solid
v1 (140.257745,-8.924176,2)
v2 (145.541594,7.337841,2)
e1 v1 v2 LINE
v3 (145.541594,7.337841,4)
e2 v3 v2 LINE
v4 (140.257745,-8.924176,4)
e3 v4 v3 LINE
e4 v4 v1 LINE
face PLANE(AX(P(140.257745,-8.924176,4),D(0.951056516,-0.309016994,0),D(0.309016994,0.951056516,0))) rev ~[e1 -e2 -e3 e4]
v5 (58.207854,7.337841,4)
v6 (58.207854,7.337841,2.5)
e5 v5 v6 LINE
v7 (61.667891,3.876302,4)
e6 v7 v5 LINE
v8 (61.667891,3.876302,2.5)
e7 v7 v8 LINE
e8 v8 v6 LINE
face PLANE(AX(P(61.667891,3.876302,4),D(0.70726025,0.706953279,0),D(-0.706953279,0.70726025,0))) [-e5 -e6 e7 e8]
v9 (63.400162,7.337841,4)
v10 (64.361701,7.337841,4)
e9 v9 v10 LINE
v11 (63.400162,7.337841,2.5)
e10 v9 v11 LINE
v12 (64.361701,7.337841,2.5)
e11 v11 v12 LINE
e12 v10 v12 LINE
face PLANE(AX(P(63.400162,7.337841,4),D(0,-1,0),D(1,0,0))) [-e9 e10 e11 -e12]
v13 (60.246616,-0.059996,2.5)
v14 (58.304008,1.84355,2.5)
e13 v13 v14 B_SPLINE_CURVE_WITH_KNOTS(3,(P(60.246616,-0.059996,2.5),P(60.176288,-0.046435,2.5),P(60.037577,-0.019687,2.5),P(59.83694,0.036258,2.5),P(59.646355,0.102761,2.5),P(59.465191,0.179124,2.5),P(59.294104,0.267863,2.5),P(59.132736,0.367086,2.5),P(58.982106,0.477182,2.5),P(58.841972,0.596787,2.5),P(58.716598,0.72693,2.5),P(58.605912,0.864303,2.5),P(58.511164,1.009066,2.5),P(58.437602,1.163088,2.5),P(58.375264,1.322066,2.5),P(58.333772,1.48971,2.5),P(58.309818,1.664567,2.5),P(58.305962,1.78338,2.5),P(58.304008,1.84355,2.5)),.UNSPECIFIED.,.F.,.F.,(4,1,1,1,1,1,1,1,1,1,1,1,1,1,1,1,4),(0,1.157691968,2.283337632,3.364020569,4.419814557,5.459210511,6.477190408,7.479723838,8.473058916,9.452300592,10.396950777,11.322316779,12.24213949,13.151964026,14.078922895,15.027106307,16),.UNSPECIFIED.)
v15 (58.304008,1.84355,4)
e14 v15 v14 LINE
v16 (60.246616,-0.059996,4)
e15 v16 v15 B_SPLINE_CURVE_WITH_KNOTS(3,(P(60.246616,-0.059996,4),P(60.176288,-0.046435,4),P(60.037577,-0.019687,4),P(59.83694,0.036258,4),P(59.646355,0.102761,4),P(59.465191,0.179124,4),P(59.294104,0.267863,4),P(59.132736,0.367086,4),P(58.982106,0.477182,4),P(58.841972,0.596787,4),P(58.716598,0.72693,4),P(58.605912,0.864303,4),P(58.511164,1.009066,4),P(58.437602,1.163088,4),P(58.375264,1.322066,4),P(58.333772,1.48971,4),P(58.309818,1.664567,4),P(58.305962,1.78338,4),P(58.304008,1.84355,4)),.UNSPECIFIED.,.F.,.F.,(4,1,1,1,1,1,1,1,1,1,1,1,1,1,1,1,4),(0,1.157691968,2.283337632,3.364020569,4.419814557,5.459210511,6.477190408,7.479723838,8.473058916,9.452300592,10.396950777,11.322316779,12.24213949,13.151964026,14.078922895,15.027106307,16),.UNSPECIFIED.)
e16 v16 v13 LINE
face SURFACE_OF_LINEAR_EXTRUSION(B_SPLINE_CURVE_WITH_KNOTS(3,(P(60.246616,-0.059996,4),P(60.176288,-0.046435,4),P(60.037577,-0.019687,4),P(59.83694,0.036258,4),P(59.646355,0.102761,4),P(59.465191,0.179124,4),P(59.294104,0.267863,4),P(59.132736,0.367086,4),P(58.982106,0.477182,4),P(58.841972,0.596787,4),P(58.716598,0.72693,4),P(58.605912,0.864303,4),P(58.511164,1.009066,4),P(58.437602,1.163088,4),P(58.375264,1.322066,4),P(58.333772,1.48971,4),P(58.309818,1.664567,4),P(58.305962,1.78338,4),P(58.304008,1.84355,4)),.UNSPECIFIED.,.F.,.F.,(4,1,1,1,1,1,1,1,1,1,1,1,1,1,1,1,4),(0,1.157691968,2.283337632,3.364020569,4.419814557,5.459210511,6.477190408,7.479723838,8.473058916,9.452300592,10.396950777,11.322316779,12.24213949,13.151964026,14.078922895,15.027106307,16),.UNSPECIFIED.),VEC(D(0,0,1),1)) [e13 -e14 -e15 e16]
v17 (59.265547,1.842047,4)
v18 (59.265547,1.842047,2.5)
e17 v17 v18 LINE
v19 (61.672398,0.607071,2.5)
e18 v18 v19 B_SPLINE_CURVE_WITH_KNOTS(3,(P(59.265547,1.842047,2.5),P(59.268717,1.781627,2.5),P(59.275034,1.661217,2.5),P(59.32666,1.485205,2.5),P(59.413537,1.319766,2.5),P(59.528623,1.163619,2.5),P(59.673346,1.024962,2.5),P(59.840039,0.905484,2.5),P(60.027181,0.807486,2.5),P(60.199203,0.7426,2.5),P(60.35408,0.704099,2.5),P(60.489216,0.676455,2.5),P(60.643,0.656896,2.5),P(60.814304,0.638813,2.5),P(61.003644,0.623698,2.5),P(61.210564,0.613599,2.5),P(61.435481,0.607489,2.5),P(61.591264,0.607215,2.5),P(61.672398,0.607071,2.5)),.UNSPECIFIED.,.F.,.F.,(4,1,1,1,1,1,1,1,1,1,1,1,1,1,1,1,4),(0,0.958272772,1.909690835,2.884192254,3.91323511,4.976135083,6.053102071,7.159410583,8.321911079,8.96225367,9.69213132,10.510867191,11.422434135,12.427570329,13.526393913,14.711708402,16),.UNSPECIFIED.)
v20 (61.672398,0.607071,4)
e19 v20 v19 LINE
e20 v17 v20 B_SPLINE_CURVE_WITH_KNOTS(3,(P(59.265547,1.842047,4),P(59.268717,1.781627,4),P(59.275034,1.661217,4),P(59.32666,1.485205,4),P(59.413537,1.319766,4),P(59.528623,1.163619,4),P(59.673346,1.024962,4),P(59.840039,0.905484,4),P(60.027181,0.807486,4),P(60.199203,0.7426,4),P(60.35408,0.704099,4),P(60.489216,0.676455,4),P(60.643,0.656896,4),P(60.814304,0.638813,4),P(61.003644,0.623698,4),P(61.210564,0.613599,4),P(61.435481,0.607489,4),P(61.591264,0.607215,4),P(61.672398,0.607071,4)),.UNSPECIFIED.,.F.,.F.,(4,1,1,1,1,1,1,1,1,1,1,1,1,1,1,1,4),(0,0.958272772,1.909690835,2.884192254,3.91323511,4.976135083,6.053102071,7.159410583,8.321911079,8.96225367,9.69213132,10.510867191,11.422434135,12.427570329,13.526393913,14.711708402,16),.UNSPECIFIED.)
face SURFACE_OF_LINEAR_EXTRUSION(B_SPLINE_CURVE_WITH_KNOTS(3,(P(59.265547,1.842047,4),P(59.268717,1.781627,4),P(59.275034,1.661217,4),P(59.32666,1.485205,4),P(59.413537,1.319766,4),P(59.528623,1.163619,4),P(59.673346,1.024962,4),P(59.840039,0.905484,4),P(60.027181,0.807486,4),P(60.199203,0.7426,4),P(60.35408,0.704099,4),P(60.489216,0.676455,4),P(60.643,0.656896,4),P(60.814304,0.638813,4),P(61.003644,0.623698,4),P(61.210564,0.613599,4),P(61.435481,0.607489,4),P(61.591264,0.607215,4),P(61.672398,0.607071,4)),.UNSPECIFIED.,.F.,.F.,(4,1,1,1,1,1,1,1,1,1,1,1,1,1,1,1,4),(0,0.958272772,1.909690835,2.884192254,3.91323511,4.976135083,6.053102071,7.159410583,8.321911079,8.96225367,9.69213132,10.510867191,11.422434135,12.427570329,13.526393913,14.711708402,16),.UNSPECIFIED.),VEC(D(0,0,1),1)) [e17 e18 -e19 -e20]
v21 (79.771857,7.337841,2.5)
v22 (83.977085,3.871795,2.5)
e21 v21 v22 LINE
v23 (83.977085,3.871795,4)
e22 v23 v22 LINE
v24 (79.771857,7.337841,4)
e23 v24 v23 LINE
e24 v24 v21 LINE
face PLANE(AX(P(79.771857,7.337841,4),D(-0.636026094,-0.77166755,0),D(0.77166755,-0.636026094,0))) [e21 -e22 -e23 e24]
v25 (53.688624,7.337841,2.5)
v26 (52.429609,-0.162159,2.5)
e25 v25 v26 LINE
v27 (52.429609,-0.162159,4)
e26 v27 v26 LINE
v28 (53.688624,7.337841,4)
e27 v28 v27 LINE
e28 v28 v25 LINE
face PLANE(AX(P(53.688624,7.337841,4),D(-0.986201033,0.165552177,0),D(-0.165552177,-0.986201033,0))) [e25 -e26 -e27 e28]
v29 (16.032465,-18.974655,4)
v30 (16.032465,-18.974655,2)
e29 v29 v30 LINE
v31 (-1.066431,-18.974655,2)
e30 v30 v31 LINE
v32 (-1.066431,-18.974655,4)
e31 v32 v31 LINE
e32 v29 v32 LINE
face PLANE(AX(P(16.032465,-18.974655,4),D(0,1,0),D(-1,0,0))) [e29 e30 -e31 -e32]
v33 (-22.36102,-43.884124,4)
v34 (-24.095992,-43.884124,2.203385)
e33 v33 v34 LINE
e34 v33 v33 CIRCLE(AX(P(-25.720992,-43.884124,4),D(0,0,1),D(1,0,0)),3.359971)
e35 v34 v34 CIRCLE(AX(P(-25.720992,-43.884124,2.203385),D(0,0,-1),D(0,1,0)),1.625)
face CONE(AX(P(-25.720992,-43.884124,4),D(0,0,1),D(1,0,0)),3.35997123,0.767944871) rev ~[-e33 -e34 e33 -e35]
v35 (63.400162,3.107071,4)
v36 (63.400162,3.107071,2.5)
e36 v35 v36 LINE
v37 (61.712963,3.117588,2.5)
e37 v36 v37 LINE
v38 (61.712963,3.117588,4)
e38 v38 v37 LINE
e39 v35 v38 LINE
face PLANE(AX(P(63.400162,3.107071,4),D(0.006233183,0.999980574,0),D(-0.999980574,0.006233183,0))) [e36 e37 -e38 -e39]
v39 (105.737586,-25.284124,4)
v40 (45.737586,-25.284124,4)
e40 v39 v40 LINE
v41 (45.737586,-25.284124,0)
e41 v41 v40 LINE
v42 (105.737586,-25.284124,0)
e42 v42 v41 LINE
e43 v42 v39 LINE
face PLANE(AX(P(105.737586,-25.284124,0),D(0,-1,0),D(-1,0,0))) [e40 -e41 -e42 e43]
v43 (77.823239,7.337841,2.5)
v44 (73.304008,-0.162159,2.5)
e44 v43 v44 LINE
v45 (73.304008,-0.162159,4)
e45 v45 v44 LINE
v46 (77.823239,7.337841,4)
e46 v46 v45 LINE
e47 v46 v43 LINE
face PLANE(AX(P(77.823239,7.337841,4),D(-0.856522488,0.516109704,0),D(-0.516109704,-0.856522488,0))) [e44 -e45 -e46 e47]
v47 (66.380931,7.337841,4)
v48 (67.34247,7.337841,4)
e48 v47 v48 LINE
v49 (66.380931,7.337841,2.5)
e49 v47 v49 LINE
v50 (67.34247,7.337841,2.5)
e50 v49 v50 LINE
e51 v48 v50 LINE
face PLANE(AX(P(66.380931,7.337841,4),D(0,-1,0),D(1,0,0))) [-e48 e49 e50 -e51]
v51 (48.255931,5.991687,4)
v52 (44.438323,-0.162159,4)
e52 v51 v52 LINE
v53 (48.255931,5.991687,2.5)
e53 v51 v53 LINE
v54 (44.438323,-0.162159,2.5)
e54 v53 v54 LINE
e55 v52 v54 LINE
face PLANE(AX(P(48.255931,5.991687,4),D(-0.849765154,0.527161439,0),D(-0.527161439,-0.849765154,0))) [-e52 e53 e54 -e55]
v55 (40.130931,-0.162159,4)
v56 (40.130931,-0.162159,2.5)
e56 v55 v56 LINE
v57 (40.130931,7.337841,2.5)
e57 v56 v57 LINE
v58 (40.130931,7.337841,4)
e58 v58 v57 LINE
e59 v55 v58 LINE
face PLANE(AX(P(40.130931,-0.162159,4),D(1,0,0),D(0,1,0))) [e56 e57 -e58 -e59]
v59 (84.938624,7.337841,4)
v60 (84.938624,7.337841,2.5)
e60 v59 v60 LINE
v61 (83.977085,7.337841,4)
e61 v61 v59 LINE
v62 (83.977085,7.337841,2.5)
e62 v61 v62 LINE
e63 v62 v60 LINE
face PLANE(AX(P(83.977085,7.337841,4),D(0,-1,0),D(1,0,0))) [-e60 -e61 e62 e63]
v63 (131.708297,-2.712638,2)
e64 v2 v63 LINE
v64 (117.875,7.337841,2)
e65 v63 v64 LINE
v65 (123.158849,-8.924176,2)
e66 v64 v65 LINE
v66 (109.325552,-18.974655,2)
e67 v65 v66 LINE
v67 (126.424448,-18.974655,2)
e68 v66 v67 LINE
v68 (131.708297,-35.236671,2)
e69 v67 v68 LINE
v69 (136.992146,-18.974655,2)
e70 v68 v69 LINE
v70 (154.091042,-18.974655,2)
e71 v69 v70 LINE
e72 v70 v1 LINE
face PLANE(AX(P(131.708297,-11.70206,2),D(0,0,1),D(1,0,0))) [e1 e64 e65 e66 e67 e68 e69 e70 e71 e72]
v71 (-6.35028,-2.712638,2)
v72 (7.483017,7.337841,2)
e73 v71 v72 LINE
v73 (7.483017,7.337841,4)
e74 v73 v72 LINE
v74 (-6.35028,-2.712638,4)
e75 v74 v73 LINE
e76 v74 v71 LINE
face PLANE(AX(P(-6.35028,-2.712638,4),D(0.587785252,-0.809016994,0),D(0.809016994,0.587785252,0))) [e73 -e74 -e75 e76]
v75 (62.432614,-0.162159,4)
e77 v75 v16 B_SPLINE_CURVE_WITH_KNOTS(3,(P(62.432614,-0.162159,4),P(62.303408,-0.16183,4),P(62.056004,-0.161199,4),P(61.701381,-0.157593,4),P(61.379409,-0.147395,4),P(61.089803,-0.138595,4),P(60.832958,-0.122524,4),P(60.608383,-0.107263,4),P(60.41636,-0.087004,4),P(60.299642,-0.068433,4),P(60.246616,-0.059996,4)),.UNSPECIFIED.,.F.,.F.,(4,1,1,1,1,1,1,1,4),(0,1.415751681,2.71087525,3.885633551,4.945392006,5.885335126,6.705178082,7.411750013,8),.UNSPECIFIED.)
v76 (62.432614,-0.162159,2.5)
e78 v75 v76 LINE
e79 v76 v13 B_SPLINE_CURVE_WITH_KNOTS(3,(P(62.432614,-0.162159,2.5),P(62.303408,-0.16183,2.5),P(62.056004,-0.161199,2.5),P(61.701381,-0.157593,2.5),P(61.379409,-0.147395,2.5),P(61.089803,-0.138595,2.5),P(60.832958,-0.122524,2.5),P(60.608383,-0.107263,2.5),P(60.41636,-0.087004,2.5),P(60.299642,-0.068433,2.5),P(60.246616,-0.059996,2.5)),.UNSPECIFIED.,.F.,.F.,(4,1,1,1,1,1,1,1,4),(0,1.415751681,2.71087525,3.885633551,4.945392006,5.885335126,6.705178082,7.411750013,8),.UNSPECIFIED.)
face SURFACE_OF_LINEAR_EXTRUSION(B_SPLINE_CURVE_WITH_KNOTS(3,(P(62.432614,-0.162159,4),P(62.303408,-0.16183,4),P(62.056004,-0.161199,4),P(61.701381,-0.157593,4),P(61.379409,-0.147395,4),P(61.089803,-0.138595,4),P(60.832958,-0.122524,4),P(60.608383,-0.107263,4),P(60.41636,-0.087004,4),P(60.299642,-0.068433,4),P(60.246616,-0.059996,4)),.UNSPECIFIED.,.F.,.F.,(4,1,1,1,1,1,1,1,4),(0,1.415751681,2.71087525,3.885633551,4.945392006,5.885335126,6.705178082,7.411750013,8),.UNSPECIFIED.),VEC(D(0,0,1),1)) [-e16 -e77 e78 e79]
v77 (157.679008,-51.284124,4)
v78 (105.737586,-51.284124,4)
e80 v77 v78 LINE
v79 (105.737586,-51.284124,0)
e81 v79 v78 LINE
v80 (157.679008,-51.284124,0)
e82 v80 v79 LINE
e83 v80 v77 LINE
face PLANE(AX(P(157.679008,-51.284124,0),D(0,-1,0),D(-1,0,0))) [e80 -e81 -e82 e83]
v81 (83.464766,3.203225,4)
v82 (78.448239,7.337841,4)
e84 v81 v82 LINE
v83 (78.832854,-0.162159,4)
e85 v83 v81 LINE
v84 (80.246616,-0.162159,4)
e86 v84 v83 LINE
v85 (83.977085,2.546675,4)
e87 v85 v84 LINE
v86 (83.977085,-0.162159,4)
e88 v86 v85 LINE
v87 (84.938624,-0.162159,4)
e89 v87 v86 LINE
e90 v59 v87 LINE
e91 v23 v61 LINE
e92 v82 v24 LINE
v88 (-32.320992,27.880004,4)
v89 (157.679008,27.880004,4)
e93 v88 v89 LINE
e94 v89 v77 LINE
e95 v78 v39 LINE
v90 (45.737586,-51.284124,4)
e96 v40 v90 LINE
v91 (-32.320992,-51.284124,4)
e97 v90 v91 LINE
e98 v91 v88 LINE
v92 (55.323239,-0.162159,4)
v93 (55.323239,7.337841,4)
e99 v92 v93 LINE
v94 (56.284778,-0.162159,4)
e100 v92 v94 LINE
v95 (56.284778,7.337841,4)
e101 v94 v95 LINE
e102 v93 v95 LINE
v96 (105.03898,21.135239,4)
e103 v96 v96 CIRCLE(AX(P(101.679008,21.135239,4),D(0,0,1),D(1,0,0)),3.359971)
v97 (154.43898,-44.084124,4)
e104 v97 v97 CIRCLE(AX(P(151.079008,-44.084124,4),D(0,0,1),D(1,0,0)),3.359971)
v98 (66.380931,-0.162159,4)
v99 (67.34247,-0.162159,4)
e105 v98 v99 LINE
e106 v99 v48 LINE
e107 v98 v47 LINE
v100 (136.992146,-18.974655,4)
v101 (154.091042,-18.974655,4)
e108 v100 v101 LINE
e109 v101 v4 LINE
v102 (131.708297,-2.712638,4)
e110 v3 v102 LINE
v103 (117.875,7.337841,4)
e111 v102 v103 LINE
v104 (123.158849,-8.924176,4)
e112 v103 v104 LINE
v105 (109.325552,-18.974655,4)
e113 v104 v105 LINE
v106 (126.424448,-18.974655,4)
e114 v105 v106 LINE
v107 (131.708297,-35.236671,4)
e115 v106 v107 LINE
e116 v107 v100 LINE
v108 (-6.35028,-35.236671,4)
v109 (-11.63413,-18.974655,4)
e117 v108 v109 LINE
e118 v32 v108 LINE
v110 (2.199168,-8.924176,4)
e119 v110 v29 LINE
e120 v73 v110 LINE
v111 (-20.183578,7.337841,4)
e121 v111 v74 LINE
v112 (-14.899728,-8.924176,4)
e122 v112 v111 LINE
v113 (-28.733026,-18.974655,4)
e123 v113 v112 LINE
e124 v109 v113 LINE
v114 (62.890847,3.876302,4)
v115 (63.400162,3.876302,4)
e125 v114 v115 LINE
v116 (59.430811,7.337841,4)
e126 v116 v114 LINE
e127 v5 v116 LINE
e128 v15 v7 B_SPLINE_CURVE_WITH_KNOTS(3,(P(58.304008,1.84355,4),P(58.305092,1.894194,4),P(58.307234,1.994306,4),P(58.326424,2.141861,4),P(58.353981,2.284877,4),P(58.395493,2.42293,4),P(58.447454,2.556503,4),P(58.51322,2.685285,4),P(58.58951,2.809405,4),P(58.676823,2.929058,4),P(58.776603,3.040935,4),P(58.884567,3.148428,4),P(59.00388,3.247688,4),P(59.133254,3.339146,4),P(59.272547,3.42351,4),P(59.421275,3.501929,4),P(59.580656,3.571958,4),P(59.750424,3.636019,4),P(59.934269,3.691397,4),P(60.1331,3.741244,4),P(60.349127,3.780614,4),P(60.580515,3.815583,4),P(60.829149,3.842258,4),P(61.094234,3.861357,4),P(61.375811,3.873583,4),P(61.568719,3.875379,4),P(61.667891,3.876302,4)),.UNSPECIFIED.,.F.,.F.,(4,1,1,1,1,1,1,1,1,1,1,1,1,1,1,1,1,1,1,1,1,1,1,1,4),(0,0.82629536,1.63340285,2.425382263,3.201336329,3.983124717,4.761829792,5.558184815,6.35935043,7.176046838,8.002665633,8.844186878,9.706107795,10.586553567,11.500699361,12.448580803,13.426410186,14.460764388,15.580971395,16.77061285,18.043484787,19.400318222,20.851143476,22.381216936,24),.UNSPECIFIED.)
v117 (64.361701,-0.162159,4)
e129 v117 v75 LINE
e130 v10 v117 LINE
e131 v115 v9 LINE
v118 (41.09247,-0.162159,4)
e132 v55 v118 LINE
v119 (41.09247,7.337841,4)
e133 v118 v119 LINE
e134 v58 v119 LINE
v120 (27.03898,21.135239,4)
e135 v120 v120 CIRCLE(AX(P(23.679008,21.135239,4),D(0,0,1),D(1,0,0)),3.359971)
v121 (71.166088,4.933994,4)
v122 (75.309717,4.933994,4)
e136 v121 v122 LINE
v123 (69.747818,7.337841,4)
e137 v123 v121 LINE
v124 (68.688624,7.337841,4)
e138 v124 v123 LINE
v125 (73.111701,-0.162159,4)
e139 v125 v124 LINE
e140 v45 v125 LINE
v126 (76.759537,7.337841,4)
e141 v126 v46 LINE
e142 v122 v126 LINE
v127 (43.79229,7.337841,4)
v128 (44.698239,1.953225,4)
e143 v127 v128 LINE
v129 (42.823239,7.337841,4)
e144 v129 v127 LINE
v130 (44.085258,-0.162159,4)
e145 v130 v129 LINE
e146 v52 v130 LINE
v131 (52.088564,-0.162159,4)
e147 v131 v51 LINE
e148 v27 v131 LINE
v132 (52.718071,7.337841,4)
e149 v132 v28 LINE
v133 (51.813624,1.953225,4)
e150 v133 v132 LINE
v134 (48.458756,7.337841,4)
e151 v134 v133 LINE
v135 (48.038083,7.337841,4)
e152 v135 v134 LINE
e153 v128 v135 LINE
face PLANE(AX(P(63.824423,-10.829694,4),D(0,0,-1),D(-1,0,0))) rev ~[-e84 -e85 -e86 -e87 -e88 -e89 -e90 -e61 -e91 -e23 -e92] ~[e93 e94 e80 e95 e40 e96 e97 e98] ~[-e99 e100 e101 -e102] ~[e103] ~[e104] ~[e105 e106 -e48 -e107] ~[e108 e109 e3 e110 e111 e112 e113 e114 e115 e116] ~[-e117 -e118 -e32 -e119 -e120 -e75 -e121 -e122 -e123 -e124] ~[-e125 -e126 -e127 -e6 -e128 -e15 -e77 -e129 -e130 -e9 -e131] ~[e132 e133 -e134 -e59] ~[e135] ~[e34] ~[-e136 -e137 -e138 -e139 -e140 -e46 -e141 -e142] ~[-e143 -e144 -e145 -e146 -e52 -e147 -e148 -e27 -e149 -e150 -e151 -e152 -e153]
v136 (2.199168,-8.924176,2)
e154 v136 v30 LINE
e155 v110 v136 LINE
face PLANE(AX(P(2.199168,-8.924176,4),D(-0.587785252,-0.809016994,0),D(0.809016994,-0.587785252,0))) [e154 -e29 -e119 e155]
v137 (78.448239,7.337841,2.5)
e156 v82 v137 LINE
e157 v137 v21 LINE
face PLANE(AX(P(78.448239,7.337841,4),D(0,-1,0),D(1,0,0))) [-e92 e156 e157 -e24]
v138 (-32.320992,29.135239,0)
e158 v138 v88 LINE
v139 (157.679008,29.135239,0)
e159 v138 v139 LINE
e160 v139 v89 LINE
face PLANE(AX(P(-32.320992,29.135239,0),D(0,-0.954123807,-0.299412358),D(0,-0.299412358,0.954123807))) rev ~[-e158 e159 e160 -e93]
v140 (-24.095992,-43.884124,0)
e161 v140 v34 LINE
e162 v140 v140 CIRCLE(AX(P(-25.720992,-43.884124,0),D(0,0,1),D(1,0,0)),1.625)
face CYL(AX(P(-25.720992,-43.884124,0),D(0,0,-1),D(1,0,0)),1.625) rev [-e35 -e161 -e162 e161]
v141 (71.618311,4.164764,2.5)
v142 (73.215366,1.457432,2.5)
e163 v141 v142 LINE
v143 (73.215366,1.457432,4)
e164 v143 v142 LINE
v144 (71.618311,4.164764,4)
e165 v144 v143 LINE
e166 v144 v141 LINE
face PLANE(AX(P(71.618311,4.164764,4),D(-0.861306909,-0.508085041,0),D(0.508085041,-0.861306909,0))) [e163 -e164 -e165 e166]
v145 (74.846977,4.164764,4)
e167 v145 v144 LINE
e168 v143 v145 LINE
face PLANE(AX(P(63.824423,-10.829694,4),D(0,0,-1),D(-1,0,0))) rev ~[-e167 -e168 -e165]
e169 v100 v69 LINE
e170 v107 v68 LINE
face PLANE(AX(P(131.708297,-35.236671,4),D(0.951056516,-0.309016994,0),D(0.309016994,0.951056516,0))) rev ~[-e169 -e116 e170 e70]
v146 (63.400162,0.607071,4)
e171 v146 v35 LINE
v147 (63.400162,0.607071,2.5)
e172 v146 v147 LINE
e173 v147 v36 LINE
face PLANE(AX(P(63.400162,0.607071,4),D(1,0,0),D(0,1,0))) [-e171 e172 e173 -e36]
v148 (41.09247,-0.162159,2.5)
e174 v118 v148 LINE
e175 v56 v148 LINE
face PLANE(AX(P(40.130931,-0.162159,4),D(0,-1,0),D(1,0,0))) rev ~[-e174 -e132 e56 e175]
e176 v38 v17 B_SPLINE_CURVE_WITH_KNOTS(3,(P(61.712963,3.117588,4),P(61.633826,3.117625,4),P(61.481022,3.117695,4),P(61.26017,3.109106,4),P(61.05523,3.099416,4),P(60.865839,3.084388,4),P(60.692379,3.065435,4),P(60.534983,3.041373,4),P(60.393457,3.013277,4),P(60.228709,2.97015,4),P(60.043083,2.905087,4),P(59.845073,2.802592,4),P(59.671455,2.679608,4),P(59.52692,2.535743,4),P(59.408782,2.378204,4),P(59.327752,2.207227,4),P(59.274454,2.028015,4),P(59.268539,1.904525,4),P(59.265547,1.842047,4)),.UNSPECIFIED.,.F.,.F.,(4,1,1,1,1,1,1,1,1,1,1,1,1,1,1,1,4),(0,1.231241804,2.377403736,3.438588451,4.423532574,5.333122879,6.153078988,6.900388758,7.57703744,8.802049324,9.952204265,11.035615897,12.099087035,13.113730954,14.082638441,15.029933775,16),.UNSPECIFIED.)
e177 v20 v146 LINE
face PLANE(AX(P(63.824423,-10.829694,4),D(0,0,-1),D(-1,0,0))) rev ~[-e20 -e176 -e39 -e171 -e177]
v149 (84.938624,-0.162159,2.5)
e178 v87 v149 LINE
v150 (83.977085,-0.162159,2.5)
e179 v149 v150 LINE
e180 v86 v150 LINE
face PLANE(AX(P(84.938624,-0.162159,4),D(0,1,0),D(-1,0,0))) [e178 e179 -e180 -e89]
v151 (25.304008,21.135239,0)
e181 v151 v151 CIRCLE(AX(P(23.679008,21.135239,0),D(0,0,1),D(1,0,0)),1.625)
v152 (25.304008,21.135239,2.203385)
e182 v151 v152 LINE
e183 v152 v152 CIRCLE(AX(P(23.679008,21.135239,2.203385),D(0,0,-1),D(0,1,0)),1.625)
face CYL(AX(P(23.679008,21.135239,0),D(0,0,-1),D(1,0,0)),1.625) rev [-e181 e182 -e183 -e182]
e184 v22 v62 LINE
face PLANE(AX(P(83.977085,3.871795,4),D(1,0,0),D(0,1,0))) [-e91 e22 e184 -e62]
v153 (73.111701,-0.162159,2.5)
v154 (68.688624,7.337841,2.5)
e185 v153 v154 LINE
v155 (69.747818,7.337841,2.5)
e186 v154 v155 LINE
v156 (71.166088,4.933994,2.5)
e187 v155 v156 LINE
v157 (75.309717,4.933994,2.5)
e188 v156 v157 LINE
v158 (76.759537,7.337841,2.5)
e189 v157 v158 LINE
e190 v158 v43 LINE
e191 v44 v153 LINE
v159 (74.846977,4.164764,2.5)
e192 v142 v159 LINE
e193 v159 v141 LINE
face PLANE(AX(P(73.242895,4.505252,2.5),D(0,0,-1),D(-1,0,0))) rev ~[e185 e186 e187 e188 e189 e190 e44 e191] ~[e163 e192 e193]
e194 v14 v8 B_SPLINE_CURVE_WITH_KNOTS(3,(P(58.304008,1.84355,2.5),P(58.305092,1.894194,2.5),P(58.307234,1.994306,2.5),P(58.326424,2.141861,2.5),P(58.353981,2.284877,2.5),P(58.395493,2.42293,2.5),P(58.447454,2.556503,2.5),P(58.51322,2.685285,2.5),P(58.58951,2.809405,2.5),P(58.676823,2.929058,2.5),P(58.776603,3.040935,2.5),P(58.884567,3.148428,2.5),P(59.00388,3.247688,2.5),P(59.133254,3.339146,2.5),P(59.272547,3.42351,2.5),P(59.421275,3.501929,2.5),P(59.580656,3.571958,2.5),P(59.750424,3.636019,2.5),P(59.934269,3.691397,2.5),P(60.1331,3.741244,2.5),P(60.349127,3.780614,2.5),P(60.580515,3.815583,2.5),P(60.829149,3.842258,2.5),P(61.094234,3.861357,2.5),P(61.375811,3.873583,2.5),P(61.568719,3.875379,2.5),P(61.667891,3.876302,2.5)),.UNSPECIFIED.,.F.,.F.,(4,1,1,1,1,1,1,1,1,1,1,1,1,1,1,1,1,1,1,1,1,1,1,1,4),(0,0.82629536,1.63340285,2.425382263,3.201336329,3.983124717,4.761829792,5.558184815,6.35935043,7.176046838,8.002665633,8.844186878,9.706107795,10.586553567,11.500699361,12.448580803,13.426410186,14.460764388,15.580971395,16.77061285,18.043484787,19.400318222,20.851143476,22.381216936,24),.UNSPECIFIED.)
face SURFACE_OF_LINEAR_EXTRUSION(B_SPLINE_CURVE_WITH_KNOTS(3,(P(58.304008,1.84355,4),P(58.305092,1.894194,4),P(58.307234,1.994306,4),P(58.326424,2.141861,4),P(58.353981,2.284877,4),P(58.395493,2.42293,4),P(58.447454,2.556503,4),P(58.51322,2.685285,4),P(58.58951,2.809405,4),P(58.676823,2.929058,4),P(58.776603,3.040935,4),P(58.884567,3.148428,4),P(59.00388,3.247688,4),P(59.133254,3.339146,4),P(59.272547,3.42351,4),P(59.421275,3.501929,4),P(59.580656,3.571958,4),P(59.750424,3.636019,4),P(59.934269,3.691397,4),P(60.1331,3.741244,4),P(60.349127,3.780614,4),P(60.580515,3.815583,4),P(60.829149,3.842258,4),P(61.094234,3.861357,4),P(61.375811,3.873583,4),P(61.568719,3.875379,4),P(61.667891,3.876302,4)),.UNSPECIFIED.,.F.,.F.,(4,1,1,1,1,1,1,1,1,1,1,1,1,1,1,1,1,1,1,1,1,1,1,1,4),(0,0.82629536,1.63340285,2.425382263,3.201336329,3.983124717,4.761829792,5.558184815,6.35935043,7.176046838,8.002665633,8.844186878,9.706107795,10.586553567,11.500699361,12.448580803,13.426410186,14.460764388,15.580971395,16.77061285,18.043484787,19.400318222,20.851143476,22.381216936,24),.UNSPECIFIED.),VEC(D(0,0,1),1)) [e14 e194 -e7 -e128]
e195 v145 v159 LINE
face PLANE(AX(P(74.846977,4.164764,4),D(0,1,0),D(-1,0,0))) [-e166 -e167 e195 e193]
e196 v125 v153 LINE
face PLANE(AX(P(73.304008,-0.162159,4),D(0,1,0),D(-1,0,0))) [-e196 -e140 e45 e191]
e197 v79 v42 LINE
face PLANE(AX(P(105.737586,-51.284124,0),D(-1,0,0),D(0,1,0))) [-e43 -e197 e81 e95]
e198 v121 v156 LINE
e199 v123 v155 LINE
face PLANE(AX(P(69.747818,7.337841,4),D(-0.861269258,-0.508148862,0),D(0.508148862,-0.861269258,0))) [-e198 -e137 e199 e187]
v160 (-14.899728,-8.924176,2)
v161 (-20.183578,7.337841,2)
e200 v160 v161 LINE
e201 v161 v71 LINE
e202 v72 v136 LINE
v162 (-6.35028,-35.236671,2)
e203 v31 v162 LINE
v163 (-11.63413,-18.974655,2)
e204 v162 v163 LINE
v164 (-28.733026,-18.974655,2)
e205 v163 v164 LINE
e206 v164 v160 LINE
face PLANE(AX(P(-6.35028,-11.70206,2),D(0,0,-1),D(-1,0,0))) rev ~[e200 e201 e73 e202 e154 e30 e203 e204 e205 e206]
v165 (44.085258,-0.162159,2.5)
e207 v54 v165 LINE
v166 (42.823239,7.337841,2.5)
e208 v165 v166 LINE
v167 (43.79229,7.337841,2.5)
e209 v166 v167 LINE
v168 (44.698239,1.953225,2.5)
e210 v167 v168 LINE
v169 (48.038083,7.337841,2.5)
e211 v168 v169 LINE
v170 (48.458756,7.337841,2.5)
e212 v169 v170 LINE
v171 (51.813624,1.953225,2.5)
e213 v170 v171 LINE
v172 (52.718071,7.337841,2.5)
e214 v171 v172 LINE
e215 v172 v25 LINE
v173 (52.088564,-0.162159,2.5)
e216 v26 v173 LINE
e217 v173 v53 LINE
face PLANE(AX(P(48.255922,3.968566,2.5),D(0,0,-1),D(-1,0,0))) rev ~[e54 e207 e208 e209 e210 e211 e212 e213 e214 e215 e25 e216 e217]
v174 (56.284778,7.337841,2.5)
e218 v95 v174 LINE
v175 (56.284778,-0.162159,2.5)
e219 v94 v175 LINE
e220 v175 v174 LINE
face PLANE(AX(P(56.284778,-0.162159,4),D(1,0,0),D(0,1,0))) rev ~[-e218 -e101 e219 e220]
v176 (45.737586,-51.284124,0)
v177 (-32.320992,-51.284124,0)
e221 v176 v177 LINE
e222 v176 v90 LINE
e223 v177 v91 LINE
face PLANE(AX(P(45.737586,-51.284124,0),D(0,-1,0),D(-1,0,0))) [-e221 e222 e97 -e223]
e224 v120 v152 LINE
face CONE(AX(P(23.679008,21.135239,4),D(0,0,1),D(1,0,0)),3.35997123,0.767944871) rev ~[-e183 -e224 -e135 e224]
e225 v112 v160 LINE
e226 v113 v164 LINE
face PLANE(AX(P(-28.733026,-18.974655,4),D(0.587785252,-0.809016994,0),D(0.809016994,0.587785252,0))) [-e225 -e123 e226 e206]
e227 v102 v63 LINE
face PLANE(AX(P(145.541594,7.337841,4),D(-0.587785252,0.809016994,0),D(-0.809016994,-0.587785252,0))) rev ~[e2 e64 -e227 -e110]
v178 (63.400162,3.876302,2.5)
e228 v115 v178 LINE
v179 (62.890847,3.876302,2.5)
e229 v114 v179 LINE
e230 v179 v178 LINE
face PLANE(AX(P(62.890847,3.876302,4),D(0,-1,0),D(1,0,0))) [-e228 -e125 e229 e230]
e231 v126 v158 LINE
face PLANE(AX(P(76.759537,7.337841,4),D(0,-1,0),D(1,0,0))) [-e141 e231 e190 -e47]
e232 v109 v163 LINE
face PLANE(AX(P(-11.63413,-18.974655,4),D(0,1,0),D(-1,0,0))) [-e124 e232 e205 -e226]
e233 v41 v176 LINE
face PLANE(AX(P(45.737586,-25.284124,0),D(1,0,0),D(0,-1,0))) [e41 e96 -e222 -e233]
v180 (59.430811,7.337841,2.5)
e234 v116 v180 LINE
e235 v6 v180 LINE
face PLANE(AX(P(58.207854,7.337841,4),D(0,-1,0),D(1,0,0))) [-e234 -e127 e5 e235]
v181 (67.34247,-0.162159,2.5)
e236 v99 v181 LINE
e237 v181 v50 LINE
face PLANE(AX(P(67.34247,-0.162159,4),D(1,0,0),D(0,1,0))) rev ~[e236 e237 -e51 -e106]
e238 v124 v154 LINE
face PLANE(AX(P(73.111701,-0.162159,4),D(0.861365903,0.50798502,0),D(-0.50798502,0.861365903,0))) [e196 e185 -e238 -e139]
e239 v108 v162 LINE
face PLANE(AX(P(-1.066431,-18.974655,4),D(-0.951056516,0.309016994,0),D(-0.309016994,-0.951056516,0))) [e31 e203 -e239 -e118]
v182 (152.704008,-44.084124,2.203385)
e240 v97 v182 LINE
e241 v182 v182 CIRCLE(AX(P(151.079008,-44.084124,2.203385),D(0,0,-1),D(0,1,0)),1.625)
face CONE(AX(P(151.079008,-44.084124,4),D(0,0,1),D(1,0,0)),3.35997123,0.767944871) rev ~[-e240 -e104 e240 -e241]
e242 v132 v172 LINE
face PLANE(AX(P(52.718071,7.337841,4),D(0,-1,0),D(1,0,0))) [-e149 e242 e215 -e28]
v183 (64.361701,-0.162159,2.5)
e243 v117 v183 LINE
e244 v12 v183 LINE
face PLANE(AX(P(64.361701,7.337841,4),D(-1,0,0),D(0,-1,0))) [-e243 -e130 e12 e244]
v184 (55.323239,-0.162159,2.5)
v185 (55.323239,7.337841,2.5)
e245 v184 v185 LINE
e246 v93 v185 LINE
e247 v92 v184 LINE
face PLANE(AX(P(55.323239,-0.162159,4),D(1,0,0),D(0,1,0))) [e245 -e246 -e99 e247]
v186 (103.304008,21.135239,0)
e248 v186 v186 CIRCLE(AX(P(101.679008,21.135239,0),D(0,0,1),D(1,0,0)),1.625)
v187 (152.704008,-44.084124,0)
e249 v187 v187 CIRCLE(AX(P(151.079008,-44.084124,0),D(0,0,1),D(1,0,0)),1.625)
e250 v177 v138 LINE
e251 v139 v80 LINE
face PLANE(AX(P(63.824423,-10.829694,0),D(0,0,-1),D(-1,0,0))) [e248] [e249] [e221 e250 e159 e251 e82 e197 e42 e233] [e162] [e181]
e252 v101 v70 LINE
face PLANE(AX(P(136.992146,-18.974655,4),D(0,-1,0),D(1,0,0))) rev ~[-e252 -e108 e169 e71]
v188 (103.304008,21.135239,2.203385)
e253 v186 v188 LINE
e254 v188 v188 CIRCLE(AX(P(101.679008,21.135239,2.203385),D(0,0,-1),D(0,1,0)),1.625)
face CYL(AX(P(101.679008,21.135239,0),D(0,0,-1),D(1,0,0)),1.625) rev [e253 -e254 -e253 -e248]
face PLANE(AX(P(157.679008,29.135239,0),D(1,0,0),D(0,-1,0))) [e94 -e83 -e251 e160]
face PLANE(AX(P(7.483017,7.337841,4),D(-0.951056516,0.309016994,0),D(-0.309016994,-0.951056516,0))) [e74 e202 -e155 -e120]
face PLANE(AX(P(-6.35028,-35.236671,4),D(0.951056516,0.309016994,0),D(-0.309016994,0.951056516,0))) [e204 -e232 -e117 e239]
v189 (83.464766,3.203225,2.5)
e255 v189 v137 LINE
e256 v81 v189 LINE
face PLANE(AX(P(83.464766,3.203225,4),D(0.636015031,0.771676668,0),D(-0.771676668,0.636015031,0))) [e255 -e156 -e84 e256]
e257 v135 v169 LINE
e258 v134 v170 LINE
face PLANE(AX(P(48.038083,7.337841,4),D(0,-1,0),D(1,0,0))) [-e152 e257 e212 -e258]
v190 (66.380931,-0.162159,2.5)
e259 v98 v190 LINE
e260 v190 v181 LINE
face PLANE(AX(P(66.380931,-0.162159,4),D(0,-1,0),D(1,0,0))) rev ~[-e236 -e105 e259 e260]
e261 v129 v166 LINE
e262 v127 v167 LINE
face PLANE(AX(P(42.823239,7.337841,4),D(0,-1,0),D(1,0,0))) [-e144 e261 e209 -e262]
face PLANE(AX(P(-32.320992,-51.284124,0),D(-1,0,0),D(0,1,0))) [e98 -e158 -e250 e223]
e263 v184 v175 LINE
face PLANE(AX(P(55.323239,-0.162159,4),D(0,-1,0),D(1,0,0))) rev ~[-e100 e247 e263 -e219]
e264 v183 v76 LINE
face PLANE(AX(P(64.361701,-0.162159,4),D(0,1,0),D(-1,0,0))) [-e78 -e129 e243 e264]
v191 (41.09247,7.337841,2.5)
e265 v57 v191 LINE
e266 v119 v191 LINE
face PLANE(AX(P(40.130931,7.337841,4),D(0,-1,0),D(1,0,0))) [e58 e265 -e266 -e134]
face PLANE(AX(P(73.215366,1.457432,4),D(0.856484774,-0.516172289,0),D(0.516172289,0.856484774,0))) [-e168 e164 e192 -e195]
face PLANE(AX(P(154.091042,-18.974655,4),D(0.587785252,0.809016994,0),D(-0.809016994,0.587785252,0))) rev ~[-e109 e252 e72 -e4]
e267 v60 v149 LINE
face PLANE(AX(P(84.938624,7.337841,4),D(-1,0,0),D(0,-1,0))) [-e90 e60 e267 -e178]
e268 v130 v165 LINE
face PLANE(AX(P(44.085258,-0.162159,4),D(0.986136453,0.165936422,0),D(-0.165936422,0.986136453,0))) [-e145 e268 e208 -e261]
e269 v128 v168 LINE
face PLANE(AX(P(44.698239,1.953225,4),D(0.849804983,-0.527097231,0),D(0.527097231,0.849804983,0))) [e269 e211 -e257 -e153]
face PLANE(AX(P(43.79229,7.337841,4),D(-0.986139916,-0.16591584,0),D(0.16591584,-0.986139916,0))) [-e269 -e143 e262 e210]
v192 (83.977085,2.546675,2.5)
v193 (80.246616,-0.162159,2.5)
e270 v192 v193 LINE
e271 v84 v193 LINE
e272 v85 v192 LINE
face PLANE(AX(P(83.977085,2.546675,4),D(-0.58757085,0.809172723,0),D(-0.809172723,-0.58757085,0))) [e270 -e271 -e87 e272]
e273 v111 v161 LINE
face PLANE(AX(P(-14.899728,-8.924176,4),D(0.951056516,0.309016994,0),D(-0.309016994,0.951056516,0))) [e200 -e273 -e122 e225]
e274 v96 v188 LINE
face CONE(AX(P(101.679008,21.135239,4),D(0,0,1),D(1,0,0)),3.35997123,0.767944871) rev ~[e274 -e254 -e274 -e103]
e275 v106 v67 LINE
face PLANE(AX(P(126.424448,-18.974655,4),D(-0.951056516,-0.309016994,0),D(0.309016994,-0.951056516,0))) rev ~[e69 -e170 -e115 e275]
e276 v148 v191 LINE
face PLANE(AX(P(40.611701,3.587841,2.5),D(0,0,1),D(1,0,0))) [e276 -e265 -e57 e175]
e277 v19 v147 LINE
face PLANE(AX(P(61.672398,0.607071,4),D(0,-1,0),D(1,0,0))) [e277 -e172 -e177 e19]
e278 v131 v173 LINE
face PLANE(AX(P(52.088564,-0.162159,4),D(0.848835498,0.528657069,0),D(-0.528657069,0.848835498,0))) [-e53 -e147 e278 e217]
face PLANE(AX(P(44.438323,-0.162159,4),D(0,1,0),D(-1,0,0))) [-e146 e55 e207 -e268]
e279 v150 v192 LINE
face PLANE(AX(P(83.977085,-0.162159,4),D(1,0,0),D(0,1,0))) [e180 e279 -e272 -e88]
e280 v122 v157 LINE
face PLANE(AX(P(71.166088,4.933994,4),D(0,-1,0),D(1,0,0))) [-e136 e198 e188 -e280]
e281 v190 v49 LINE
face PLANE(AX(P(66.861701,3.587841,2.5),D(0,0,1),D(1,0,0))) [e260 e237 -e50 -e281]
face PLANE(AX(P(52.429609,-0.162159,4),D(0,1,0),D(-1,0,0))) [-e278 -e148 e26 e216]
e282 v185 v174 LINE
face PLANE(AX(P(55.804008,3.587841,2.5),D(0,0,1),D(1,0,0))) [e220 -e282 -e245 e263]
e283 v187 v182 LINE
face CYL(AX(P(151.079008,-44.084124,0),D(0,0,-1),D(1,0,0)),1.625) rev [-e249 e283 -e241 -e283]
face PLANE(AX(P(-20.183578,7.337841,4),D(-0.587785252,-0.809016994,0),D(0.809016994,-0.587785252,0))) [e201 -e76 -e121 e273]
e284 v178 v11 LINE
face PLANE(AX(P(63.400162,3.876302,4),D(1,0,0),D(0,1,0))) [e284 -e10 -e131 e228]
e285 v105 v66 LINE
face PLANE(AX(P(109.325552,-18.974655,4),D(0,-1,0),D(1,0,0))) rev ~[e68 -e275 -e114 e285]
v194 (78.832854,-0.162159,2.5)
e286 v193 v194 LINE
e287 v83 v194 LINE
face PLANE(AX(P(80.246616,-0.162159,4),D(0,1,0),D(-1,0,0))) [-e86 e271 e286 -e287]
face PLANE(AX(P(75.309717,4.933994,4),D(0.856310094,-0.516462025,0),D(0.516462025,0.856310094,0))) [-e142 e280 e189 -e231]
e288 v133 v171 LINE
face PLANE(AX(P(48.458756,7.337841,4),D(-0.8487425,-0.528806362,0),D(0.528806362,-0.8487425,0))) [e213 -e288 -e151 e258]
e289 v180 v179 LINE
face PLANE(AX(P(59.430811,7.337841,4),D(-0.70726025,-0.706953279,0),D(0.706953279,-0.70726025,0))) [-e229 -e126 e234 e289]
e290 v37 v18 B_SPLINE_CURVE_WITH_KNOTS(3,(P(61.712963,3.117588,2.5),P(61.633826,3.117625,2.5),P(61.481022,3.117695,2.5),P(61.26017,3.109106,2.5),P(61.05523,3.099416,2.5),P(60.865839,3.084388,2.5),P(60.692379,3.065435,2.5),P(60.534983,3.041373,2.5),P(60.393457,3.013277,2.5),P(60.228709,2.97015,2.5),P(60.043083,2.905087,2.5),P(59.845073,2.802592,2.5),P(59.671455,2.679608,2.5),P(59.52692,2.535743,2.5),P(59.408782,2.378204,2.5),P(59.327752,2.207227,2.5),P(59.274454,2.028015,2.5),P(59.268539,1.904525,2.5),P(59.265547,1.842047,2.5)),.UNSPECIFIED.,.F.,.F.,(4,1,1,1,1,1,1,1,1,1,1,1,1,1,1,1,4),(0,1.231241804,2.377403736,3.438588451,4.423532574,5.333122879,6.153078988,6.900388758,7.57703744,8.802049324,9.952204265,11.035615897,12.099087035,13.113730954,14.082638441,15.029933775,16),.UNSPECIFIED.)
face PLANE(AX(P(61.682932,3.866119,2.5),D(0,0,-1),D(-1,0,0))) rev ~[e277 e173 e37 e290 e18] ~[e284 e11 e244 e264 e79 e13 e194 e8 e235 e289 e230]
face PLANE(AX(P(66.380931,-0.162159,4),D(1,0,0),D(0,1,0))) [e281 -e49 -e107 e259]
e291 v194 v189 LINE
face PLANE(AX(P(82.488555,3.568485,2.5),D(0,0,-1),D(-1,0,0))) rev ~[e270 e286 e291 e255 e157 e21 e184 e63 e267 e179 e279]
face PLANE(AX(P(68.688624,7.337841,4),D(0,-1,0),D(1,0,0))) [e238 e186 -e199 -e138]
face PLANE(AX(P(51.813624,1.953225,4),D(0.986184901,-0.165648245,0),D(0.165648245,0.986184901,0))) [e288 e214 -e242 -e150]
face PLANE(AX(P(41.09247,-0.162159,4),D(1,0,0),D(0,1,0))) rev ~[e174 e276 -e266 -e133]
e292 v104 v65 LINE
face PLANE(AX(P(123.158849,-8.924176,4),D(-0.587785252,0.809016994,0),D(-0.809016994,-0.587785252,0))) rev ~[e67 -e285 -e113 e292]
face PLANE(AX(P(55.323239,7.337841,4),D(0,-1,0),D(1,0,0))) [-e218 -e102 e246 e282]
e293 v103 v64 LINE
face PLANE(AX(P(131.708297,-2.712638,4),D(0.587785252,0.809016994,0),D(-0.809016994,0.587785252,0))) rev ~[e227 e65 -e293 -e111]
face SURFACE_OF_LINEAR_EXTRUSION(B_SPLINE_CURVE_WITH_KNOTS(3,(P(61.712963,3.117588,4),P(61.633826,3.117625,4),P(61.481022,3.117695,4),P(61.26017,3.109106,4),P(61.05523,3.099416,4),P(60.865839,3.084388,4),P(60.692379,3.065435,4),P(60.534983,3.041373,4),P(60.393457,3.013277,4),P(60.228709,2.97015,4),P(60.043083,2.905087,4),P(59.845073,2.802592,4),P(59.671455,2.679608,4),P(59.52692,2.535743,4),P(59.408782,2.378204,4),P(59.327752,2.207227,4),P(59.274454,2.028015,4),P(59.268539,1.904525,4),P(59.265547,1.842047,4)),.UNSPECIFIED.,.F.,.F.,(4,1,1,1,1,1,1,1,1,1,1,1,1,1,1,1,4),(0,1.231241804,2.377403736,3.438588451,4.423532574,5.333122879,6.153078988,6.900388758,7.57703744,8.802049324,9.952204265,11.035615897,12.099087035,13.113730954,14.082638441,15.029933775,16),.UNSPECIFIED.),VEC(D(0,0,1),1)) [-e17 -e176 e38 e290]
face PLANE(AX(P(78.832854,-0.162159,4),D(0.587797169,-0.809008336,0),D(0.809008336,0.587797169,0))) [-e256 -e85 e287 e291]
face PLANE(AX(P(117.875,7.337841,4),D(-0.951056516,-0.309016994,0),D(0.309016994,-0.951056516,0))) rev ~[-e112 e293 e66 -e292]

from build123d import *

# Parameters (mm, degrees)
CROQUIS1_R                      = 1.625
SALIENTE_EXTRUIR1_DEPTH         = 4
CORTAR_EXTRUIR1_START           = -190
CORTAR_EXTRUIR1_DEPTH           = 190
CROQUIS4_R                      = 3.35997123
CORTAR_EXTRUIR2_DEPTH           = 1.8
CORTAR_EXTRUIR2_DRAFT           = -44
CORTAR_EXTRUIR2_PROFILE_2_DEPTH = 1.8
CORTAR_EXTRUIR2_PROFILE_2_DRAFT = -44
CORTAR_EXTRUIR2_PROFILE_3_DEPTH = 1.8
CORTAR_EXTRUIR2_PROFILE_3_DRAFT = -44
CORTAR_EXTRUIR2_PROFILE_4_DEPTH = 1.8
CORTAR_EXTRUIR2_PROFILE_4_DRAFT = -44
CORTAR_EXTRUIR3_DEPTH           = 2
CROQUIS9_W                      = 0.961538462
CROQUIS9_H                      = 7.5
CORTAR_EXTRUIR5_DEPTH           = 1.5


with BuildPart() as part:
    # Croquis1 → Saliente-Extruir1 (new body)
    with BuildSketch(Plane.XY):
        Polygon((-32.320991683, -51.284123552), (-32.320991683, 29.135238548), (157.679008317, 29.135238548), (157.679008317, -51.284123552), (105.737585684, -51.284123552), (105.737585684, -25.284123552), (45.737585684, -25.284123552), (45.737585684, -51.284123552), align=None)
        with Locations((23.679008317, 21.135238548)):
            Circle(CROQUIS1_R, mode=Mode.SUBTRACT)
        with Locations((101.679008317, 21.135238548)):
            Circle(CROQUIS1_R, mode=Mode.SUBTRACT)
        with Locations((-25.720991683, -43.884123552)):
            Circle(CROQUIS1_R, mode=Mode.SUBTRACT)
        with Locations((151.079008317, -44.084123552)):
            Circle(CROQUIS1_R, mode=Mode.SUBTRACT)
    extrude(amount=SALIENTE_EXTRUIR1_DEPTH)

    # Croquis3 → Cortar-Extruir1 (cut)
    with BuildSketch(Plane(origin=(157.679008317, 0, 0), x_dir=(0, 0, -1), z_dir=(1, 0, 0)).offset(CORTAR_EXTRUIR1_START)):
        Polygon((-4, 29.135238548), (0, 29.135238548), (-4, 27.880003721), align=None)
    extrude(amount=CORTAR_EXTRUIR1_DEPTH, mode=Mode.SUBTRACT)


with BuildPart() as cortar_extruir2_tool:
    # Croquis4 → Cortar-Extruir2 (with draft: the straight prism first)
    with BuildSketch(Plane.XY.offset(4)):
        with Locations((23.679008317, 21.135238548)):
            Circle(CROQUIS4_R)
    extrude(amount=-CORTAR_EXTRUIR2_DEPTH)
    # Cortar-Extruir2: the draft: its side faces are tilted about the plane it starts from
    cortar_extruir2_sides = [cortar_extruir2_tool.faces().sort_by_distance(p)[0] for p in [
        (20.319037087, 21.135238548, 3.1),
    ]]
    draft(cortar_extruir2_sides, Plane.XY.offset(4), CORTAR_EXTRUIR2_DRAFT)


with BuildPart() as part_1:
    add(part.part)

    # Cortar-Extruir2: cut by cortar_extruir2_tool
    add(cortar_extruir2_tool.part, mode=Mode.SUBTRACT)


with BuildPart() as cortar_extruir2_profile_2_tool:
    # Croquis4 → Cortar-Extruir2 profile 2 (with draft: the straight prism first)
    with BuildSketch(Plane.XY.offset(4)):
        with Locations((101.679008317, 21.135238548)):
            Circle(CROQUIS4_R)
    extrude(amount=-CORTAR_EXTRUIR2_PROFILE_2_DEPTH)
    # Cortar-Extruir2 profile 2: the draft: its side faces are tilted about the plane it starts from
    cortar_extruir2_profile_2_sides = [cortar_extruir2_profile_2_tool.faces().sort_by_distance(p)[0] for p in [
        (98.319037087, 21.135238548, 3.1),
    ]]
    draft(cortar_extruir2_profile_2_sides, Plane.XY.offset(4), CORTAR_EXTRUIR2_PROFILE_2_DRAFT)


with BuildPart() as part_2:
    add(part_1.part)

    # Cortar-Extruir2 profile 2: cut by cortar_extruir2_profile_2_tool
    add(cortar_extruir2_profile_2_tool.part, mode=Mode.SUBTRACT)


with BuildPart() as cortar_extruir2_profile_3_tool:
    # Croquis4 → Cortar-Extruir2 profile 3 (with draft: the straight prism first)
    with BuildSketch(Plane.XY.offset(4)):
        with Locations((-25.720991683, -43.884123552)):
            Circle(CROQUIS4_R)
    extrude(amount=-CORTAR_EXTRUIR2_PROFILE_3_DEPTH)
    # Cortar-Extruir2 profile 3: the draft: its side faces are tilted about the plane it starts from
    cortar_extruir2_profile_3_sides = [cortar_extruir2_profile_3_tool.faces().sort_by_distance(p)[0] for p in [
        (-29.080962913, -43.884123552, 3.1),
    ]]
    draft(cortar_extruir2_profile_3_sides, Plane.XY.offset(4), CORTAR_EXTRUIR2_PROFILE_3_DRAFT)


with BuildPart() as part_3:
    add(part_2.part)

    # Cortar-Extruir2 profile 3: cut by cortar_extruir2_profile_3_tool
    add(cortar_extruir2_profile_3_tool.part, mode=Mode.SUBTRACT)


with BuildPart() as cortar_extruir2_profile_4_tool:
    # Croquis4 → Cortar-Extruir2 profile 4 (with draft: the straight prism first)
    with BuildSketch(Plane.XY.offset(4)):
        with Locations((151.079008317, -44.084123552)):
            Circle(CROQUIS4_R)
    extrude(amount=-CORTAR_EXTRUIR2_PROFILE_4_DEPTH)
    # Cortar-Extruir2 profile 4: the draft: its side faces are tilted about the plane it starts from
    cortar_extruir2_profile_4_sides = [cortar_extruir2_profile_4_tool.faces().sort_by_distance(p)[0] for p in [
        (147.719037087, -44.084123552, 3.1),
    ]]
    draft(cortar_extruir2_profile_4_sides, Plane.XY.offset(4), CORTAR_EXTRUIR2_PROFILE_4_DRAFT)


with BuildPart() as part_4:
    add(part_3.part)

    # Cortar-Extruir2 profile 4: cut by cortar_extruir2_profile_4_tool
    add(cortar_extruir2_profile_4_tool.part, mode=Mode.SUBTRACT)

    # Croquis6 → Cortar-Extruir3 (cut)
    with BuildSketch(Plane.XY.offset(4)):
        Polygon((16.032465101, -18.974654774), (-1.066430914, -18.974654774), (-6.350280368, -35.236671251), (-11.634129822, -18.974654774), (-28.733025837, -18.974654774), (-14.899728375, -8.924175866), (-20.183577829, 7.337840611), (-6.350280368, -2.712638297), (7.483017094, 7.337840611), (2.19916764, -8.924175866), align=None)
        Polygon((109.325551533, -18.974654774), (126.424447548, -18.974654774), (131.708297002, -35.236671251), (136.992146456, -18.974654774), (154.091042471, -18.974654774), (140.25774501, -8.924175866), (145.541594464, 7.337840611), (131.708297002, -2.712638297), (117.874999541, 7.337840611), (123.158848995, -8.924175866), align=None)
    extrude(amount=-CORTAR_EXTRUIR3_DEPTH, mode=Mode.SUBTRACT)

    # Croquis9 → Cortar-Extruir5 (cut)
    # profile 1 of 7: a face of its own
    with BuildSketch(Plane.XY.offset(4)):
        Polygon((84.938623702, -0.162159389), (83.97708524, -0.162159389), (83.97708524, 2.546674746), (80.24661649, -0.162159389), (78.832854471, -0.162159389), (83.464765529, 3.203225226), (78.448239086, 7.337840611), (79.771856875, 7.337840611), (83.97708524, 3.871794938), (83.97708524, 7.337840611), (84.938623702, 7.337840611), align=None)
    # profile 2 of 7: a face of its own
    with BuildSketch(Plane.XY.offset(4)):
        Polygon((73.111700625, -0.162159389), (68.688623702, 7.337840611), (69.747818413, 7.337840611), (71.166087644, 4.933994457), (75.309717452, 4.933994457), (76.759537163, 7.337840611), (77.823239086, 7.337840611), (73.304008317, -0.162159389), align=None)
        Polygon((73.21536649, 1.457431957), (74.846977067, 4.164763688), (71.618311202, 4.164763688), align=None, mode=Mode.SUBTRACT)
    # profile 3 of 7: a face of its own
    with BuildSketch(Plane.XY.offset(4)):
        with Locations((66.861700625, 3.587840611)):
            Rectangle(CROQUIS9_W, CROQUIS9_H)
    # profile 4 of 7: a face of its own
    with BuildSketch(Plane.XY.offset(4)):
        with BuildLine():
            Line((64.361700625, -0.162159389), (62.432614086, -0.162159389))
            add(Edge.make_bspline(
                [(62.432614086, -0.162159389), (62.303407857, -0.161829936), (62.056004322, -0.161199101), (61.701380518, -0.157593434), (61.379408986, -0.147395372), (61.089802811, -0.138594846), (60.832957985, -0.122524062), (60.608382947, -0.107262614), (60.416359573, -0.087004293), (60.299642276, -0.06843303), (60.24661649, -0.059995928)],
                knots=[0, 0, 0, 0, 1.415751681, 2.71087525, 3.885633551, 4.945392006, 5.885335126, 6.705178082, 7.411750013, 8, 8, 8, 8], degree=3))
            add(Edge.make_bspline(
                [(60.24661649, -0.059995928), (60.176287708, -0.046434609), (60.037576928, -0.019687366), (59.836939759, 0.036257843), (59.646354736, 0.102761484), (59.465191207, 0.179124214), (59.294103688, 0.267862518), (59.132735961, 0.367086444), (58.982105619, 0.477181944), (58.841971811, 0.596786711), (58.716597542, 0.726930123), (58.605911754, 0.864303479), (58.511163617, 1.009066491), (58.437601574, 1.163087556), (58.375263981, 1.322066158), (58.333771964, 1.489710459), (58.309818392, 1.664567276), (58.305961545, 1.783379506), (58.304008317, 1.843549746)],
                knots=[0, 0, 0, 0, 1.157691968, 2.283337632, 3.364020569, 4.419814557, 5.459210511, 6.477190408, 7.479723838, 8.473058916, 9.452300592, 10.396950777, 11.322316779, 12.24213949, 13.151964026, 14.078922895, 15.027106307, 16, 16, 16, 16], degree=3))
            add(Edge.make_bspline(
                [(58.304008317, 1.843549746), (58.305091786, 1.894193695), (58.307233563, 1.994305563), (58.326423676, 2.141861151), (58.353980579, 2.284876692), (58.39549308, 2.422930299), (58.44745429, 2.556502857), (58.513219778, 2.685284656), (58.589509979, 2.809405247), (58.676822774, 2.929058118), (58.776602841, 3.04093505), (58.884566714, 3.148428384), (59.003880288, 3.24768771), (59.133254395, 3.339146066), (59.272547378, 3.423510414), (59.421274842, 3.50192944), (59.580656173, 3.571958158), (59.750424189, 3.636018975), (59.934268605, 3.69139676), (60.133100327, 3.741243648), (60.349126643, 3.780614055), (60.580514781, 3.815583328), (60.829148914, 3.842258394), (61.094233729, 3.861356634), (61.375810546, 3.873582923), (61.568718995, 3.875378875), (61.667890529, 3.876302149)],
                knots=[0, 0, 0, 0, 0.82629536, 1.63340285, 2.425382263, 3.201336329, 3.983124717, 4.761829792, 5.558184815, 6.35935043, 7.176046838, 8.002665633, 8.844186878, 9.706107795, 10.586553567, 11.500699361, 12.448580803, 13.426410186, 14.460764388, 15.580971395, 16.77061285, 18.043484787, 19.400318222, 20.851143476, 22.381216936, 24, 24, 24, 24], degree=3))
            Line((61.667890529, 3.876302149), (58.207854471, 7.337840611))
            Line((58.207854471, 7.337840611), (59.430811202, 7.337840611))
            Line((59.430811202, 7.337840611), (62.890847259, 3.876302149))
            Line((62.890847259, 3.876302149), (63.400162163, 3.876302149))
            Line((63.400162163, 3.876302149), (63.400162163, 7.337840611))
            Line((63.400162163, 7.337840611), (64.361700625, 7.337840611))
            Line((64.361700625, 7.337840611), (64.361700625, -0.162159389))
        make_face()
        with BuildLine():
            Line((63.400162163, 0.60707138), (63.400162163, 3.10707138))
            Line((63.400162163, 3.10707138), (61.712962644, 3.117588207))
            add(Edge.make_bspline(
                [(61.712962644, 3.117588207), (61.6338262, 3.117624593), (61.48102171, 3.11769485), (61.260170178, 3.109105998), (61.055229731, 3.099416115), (60.865838556, 3.084387818), (60.692378793, 3.065434605), (60.534983254, 3.041372826), (60.393457337, 3.013276714), (60.228708832, 2.970150308), (60.04308286, 2.905086825), (59.845073139, 2.802592369), (59.671455393, 2.679607959), (59.526919773, 2.535743204), (59.408781872, 2.378204093), (59.32775206, 2.207226521), (59.274453943, 2.028014983), (59.268539248, 1.904525416), (59.265546779, 1.842047342)],
                knots=[0, 0, 0, 0, 1.231241804, 2.377403736, 3.438588451, 4.423532574, 5.333122879, 6.153078988, 6.900388758, 7.57703744, 8.802049324, 9.952204265, 11.035615897, 12.099087035, 13.113730954, 14.082638441, 15.029933775, 16, 16, 16, 16], degree=3))
            add(Edge.make_bspline(
                [(59.265546779, 1.842047342), (59.268716736, 1.78162656), (59.275033974, 1.661217199), (59.326660493, 1.485205192), (59.413536844, 1.319765548), (59.52862314, 1.163619228), (59.673346138, 1.024962204), (59.840039394, 0.905484395), (60.027181277, 0.807486158), (60.199202974, 0.742600317), (60.354080103, 0.704099078), (60.489215667, 0.676455153), (60.642999865, 0.656896215), (60.81430402, 0.638812614), (61.003643568, 0.623698235), (61.210563803, 0.613598768), (61.435480972, 0.607489486), (61.59126372, 0.607214564), (61.67239774, 0.60707138)],
                knots=[0, 0, 0, 0, 0.958272772, 1.909690835, 2.884192254, 3.91323511, 4.976135083, 6.053102071, 7.159410583, 8.321911079, 8.96225367, 9.69213132, 10.510867191, 11.422434135, 12.427570329, 13.526393913, 14.711708402, 16, 16, 16, 16], degree=3))
            Line((61.67239774, 0.60707138), (63.400162163, 0.60707138))
        make_face(mode=Mode.SUBTRACT)
    # profile 5 of 7: a face of its own
    with BuildSketch(Plane.XY.offset(4)):
        with Locations((55.804008317, 3.587840611)):
            Rectangle(CROQUIS9_W, CROQUIS9_H)
    # profile 6 of 7: a face of its own
    with BuildSketch(Plane.XY.offset(4)):
        Polygon((53.688623702, 7.337840611), (52.429609279, -0.162159389), (52.088563606, -0.162159389), (48.255931394, 5.991686765), (44.438323221, -0.162159389), (44.085258317, -0.162159389), (42.823239086, 7.337840611), (43.792289567, 7.337840611), (44.698239086, 1.953225226), (48.038082836, 7.337840611), (48.458755913, 7.337840611), (51.813623702, 1.953225226), (52.718070817, 7.337840611), align=None)
    # profile 7 of 7: a face of its own
    with BuildSketch(Plane.XY.offset(4)):
        with Locations((40.611700625, 3.587840611)):
            Rectangle(CROQUIS9_W, CROQUIS9_H)
    extrude(amount=-CORTAR_EXTRUIR5_DEPTH, mode=Mode.SUBTRACT)


solid = part_4.part
